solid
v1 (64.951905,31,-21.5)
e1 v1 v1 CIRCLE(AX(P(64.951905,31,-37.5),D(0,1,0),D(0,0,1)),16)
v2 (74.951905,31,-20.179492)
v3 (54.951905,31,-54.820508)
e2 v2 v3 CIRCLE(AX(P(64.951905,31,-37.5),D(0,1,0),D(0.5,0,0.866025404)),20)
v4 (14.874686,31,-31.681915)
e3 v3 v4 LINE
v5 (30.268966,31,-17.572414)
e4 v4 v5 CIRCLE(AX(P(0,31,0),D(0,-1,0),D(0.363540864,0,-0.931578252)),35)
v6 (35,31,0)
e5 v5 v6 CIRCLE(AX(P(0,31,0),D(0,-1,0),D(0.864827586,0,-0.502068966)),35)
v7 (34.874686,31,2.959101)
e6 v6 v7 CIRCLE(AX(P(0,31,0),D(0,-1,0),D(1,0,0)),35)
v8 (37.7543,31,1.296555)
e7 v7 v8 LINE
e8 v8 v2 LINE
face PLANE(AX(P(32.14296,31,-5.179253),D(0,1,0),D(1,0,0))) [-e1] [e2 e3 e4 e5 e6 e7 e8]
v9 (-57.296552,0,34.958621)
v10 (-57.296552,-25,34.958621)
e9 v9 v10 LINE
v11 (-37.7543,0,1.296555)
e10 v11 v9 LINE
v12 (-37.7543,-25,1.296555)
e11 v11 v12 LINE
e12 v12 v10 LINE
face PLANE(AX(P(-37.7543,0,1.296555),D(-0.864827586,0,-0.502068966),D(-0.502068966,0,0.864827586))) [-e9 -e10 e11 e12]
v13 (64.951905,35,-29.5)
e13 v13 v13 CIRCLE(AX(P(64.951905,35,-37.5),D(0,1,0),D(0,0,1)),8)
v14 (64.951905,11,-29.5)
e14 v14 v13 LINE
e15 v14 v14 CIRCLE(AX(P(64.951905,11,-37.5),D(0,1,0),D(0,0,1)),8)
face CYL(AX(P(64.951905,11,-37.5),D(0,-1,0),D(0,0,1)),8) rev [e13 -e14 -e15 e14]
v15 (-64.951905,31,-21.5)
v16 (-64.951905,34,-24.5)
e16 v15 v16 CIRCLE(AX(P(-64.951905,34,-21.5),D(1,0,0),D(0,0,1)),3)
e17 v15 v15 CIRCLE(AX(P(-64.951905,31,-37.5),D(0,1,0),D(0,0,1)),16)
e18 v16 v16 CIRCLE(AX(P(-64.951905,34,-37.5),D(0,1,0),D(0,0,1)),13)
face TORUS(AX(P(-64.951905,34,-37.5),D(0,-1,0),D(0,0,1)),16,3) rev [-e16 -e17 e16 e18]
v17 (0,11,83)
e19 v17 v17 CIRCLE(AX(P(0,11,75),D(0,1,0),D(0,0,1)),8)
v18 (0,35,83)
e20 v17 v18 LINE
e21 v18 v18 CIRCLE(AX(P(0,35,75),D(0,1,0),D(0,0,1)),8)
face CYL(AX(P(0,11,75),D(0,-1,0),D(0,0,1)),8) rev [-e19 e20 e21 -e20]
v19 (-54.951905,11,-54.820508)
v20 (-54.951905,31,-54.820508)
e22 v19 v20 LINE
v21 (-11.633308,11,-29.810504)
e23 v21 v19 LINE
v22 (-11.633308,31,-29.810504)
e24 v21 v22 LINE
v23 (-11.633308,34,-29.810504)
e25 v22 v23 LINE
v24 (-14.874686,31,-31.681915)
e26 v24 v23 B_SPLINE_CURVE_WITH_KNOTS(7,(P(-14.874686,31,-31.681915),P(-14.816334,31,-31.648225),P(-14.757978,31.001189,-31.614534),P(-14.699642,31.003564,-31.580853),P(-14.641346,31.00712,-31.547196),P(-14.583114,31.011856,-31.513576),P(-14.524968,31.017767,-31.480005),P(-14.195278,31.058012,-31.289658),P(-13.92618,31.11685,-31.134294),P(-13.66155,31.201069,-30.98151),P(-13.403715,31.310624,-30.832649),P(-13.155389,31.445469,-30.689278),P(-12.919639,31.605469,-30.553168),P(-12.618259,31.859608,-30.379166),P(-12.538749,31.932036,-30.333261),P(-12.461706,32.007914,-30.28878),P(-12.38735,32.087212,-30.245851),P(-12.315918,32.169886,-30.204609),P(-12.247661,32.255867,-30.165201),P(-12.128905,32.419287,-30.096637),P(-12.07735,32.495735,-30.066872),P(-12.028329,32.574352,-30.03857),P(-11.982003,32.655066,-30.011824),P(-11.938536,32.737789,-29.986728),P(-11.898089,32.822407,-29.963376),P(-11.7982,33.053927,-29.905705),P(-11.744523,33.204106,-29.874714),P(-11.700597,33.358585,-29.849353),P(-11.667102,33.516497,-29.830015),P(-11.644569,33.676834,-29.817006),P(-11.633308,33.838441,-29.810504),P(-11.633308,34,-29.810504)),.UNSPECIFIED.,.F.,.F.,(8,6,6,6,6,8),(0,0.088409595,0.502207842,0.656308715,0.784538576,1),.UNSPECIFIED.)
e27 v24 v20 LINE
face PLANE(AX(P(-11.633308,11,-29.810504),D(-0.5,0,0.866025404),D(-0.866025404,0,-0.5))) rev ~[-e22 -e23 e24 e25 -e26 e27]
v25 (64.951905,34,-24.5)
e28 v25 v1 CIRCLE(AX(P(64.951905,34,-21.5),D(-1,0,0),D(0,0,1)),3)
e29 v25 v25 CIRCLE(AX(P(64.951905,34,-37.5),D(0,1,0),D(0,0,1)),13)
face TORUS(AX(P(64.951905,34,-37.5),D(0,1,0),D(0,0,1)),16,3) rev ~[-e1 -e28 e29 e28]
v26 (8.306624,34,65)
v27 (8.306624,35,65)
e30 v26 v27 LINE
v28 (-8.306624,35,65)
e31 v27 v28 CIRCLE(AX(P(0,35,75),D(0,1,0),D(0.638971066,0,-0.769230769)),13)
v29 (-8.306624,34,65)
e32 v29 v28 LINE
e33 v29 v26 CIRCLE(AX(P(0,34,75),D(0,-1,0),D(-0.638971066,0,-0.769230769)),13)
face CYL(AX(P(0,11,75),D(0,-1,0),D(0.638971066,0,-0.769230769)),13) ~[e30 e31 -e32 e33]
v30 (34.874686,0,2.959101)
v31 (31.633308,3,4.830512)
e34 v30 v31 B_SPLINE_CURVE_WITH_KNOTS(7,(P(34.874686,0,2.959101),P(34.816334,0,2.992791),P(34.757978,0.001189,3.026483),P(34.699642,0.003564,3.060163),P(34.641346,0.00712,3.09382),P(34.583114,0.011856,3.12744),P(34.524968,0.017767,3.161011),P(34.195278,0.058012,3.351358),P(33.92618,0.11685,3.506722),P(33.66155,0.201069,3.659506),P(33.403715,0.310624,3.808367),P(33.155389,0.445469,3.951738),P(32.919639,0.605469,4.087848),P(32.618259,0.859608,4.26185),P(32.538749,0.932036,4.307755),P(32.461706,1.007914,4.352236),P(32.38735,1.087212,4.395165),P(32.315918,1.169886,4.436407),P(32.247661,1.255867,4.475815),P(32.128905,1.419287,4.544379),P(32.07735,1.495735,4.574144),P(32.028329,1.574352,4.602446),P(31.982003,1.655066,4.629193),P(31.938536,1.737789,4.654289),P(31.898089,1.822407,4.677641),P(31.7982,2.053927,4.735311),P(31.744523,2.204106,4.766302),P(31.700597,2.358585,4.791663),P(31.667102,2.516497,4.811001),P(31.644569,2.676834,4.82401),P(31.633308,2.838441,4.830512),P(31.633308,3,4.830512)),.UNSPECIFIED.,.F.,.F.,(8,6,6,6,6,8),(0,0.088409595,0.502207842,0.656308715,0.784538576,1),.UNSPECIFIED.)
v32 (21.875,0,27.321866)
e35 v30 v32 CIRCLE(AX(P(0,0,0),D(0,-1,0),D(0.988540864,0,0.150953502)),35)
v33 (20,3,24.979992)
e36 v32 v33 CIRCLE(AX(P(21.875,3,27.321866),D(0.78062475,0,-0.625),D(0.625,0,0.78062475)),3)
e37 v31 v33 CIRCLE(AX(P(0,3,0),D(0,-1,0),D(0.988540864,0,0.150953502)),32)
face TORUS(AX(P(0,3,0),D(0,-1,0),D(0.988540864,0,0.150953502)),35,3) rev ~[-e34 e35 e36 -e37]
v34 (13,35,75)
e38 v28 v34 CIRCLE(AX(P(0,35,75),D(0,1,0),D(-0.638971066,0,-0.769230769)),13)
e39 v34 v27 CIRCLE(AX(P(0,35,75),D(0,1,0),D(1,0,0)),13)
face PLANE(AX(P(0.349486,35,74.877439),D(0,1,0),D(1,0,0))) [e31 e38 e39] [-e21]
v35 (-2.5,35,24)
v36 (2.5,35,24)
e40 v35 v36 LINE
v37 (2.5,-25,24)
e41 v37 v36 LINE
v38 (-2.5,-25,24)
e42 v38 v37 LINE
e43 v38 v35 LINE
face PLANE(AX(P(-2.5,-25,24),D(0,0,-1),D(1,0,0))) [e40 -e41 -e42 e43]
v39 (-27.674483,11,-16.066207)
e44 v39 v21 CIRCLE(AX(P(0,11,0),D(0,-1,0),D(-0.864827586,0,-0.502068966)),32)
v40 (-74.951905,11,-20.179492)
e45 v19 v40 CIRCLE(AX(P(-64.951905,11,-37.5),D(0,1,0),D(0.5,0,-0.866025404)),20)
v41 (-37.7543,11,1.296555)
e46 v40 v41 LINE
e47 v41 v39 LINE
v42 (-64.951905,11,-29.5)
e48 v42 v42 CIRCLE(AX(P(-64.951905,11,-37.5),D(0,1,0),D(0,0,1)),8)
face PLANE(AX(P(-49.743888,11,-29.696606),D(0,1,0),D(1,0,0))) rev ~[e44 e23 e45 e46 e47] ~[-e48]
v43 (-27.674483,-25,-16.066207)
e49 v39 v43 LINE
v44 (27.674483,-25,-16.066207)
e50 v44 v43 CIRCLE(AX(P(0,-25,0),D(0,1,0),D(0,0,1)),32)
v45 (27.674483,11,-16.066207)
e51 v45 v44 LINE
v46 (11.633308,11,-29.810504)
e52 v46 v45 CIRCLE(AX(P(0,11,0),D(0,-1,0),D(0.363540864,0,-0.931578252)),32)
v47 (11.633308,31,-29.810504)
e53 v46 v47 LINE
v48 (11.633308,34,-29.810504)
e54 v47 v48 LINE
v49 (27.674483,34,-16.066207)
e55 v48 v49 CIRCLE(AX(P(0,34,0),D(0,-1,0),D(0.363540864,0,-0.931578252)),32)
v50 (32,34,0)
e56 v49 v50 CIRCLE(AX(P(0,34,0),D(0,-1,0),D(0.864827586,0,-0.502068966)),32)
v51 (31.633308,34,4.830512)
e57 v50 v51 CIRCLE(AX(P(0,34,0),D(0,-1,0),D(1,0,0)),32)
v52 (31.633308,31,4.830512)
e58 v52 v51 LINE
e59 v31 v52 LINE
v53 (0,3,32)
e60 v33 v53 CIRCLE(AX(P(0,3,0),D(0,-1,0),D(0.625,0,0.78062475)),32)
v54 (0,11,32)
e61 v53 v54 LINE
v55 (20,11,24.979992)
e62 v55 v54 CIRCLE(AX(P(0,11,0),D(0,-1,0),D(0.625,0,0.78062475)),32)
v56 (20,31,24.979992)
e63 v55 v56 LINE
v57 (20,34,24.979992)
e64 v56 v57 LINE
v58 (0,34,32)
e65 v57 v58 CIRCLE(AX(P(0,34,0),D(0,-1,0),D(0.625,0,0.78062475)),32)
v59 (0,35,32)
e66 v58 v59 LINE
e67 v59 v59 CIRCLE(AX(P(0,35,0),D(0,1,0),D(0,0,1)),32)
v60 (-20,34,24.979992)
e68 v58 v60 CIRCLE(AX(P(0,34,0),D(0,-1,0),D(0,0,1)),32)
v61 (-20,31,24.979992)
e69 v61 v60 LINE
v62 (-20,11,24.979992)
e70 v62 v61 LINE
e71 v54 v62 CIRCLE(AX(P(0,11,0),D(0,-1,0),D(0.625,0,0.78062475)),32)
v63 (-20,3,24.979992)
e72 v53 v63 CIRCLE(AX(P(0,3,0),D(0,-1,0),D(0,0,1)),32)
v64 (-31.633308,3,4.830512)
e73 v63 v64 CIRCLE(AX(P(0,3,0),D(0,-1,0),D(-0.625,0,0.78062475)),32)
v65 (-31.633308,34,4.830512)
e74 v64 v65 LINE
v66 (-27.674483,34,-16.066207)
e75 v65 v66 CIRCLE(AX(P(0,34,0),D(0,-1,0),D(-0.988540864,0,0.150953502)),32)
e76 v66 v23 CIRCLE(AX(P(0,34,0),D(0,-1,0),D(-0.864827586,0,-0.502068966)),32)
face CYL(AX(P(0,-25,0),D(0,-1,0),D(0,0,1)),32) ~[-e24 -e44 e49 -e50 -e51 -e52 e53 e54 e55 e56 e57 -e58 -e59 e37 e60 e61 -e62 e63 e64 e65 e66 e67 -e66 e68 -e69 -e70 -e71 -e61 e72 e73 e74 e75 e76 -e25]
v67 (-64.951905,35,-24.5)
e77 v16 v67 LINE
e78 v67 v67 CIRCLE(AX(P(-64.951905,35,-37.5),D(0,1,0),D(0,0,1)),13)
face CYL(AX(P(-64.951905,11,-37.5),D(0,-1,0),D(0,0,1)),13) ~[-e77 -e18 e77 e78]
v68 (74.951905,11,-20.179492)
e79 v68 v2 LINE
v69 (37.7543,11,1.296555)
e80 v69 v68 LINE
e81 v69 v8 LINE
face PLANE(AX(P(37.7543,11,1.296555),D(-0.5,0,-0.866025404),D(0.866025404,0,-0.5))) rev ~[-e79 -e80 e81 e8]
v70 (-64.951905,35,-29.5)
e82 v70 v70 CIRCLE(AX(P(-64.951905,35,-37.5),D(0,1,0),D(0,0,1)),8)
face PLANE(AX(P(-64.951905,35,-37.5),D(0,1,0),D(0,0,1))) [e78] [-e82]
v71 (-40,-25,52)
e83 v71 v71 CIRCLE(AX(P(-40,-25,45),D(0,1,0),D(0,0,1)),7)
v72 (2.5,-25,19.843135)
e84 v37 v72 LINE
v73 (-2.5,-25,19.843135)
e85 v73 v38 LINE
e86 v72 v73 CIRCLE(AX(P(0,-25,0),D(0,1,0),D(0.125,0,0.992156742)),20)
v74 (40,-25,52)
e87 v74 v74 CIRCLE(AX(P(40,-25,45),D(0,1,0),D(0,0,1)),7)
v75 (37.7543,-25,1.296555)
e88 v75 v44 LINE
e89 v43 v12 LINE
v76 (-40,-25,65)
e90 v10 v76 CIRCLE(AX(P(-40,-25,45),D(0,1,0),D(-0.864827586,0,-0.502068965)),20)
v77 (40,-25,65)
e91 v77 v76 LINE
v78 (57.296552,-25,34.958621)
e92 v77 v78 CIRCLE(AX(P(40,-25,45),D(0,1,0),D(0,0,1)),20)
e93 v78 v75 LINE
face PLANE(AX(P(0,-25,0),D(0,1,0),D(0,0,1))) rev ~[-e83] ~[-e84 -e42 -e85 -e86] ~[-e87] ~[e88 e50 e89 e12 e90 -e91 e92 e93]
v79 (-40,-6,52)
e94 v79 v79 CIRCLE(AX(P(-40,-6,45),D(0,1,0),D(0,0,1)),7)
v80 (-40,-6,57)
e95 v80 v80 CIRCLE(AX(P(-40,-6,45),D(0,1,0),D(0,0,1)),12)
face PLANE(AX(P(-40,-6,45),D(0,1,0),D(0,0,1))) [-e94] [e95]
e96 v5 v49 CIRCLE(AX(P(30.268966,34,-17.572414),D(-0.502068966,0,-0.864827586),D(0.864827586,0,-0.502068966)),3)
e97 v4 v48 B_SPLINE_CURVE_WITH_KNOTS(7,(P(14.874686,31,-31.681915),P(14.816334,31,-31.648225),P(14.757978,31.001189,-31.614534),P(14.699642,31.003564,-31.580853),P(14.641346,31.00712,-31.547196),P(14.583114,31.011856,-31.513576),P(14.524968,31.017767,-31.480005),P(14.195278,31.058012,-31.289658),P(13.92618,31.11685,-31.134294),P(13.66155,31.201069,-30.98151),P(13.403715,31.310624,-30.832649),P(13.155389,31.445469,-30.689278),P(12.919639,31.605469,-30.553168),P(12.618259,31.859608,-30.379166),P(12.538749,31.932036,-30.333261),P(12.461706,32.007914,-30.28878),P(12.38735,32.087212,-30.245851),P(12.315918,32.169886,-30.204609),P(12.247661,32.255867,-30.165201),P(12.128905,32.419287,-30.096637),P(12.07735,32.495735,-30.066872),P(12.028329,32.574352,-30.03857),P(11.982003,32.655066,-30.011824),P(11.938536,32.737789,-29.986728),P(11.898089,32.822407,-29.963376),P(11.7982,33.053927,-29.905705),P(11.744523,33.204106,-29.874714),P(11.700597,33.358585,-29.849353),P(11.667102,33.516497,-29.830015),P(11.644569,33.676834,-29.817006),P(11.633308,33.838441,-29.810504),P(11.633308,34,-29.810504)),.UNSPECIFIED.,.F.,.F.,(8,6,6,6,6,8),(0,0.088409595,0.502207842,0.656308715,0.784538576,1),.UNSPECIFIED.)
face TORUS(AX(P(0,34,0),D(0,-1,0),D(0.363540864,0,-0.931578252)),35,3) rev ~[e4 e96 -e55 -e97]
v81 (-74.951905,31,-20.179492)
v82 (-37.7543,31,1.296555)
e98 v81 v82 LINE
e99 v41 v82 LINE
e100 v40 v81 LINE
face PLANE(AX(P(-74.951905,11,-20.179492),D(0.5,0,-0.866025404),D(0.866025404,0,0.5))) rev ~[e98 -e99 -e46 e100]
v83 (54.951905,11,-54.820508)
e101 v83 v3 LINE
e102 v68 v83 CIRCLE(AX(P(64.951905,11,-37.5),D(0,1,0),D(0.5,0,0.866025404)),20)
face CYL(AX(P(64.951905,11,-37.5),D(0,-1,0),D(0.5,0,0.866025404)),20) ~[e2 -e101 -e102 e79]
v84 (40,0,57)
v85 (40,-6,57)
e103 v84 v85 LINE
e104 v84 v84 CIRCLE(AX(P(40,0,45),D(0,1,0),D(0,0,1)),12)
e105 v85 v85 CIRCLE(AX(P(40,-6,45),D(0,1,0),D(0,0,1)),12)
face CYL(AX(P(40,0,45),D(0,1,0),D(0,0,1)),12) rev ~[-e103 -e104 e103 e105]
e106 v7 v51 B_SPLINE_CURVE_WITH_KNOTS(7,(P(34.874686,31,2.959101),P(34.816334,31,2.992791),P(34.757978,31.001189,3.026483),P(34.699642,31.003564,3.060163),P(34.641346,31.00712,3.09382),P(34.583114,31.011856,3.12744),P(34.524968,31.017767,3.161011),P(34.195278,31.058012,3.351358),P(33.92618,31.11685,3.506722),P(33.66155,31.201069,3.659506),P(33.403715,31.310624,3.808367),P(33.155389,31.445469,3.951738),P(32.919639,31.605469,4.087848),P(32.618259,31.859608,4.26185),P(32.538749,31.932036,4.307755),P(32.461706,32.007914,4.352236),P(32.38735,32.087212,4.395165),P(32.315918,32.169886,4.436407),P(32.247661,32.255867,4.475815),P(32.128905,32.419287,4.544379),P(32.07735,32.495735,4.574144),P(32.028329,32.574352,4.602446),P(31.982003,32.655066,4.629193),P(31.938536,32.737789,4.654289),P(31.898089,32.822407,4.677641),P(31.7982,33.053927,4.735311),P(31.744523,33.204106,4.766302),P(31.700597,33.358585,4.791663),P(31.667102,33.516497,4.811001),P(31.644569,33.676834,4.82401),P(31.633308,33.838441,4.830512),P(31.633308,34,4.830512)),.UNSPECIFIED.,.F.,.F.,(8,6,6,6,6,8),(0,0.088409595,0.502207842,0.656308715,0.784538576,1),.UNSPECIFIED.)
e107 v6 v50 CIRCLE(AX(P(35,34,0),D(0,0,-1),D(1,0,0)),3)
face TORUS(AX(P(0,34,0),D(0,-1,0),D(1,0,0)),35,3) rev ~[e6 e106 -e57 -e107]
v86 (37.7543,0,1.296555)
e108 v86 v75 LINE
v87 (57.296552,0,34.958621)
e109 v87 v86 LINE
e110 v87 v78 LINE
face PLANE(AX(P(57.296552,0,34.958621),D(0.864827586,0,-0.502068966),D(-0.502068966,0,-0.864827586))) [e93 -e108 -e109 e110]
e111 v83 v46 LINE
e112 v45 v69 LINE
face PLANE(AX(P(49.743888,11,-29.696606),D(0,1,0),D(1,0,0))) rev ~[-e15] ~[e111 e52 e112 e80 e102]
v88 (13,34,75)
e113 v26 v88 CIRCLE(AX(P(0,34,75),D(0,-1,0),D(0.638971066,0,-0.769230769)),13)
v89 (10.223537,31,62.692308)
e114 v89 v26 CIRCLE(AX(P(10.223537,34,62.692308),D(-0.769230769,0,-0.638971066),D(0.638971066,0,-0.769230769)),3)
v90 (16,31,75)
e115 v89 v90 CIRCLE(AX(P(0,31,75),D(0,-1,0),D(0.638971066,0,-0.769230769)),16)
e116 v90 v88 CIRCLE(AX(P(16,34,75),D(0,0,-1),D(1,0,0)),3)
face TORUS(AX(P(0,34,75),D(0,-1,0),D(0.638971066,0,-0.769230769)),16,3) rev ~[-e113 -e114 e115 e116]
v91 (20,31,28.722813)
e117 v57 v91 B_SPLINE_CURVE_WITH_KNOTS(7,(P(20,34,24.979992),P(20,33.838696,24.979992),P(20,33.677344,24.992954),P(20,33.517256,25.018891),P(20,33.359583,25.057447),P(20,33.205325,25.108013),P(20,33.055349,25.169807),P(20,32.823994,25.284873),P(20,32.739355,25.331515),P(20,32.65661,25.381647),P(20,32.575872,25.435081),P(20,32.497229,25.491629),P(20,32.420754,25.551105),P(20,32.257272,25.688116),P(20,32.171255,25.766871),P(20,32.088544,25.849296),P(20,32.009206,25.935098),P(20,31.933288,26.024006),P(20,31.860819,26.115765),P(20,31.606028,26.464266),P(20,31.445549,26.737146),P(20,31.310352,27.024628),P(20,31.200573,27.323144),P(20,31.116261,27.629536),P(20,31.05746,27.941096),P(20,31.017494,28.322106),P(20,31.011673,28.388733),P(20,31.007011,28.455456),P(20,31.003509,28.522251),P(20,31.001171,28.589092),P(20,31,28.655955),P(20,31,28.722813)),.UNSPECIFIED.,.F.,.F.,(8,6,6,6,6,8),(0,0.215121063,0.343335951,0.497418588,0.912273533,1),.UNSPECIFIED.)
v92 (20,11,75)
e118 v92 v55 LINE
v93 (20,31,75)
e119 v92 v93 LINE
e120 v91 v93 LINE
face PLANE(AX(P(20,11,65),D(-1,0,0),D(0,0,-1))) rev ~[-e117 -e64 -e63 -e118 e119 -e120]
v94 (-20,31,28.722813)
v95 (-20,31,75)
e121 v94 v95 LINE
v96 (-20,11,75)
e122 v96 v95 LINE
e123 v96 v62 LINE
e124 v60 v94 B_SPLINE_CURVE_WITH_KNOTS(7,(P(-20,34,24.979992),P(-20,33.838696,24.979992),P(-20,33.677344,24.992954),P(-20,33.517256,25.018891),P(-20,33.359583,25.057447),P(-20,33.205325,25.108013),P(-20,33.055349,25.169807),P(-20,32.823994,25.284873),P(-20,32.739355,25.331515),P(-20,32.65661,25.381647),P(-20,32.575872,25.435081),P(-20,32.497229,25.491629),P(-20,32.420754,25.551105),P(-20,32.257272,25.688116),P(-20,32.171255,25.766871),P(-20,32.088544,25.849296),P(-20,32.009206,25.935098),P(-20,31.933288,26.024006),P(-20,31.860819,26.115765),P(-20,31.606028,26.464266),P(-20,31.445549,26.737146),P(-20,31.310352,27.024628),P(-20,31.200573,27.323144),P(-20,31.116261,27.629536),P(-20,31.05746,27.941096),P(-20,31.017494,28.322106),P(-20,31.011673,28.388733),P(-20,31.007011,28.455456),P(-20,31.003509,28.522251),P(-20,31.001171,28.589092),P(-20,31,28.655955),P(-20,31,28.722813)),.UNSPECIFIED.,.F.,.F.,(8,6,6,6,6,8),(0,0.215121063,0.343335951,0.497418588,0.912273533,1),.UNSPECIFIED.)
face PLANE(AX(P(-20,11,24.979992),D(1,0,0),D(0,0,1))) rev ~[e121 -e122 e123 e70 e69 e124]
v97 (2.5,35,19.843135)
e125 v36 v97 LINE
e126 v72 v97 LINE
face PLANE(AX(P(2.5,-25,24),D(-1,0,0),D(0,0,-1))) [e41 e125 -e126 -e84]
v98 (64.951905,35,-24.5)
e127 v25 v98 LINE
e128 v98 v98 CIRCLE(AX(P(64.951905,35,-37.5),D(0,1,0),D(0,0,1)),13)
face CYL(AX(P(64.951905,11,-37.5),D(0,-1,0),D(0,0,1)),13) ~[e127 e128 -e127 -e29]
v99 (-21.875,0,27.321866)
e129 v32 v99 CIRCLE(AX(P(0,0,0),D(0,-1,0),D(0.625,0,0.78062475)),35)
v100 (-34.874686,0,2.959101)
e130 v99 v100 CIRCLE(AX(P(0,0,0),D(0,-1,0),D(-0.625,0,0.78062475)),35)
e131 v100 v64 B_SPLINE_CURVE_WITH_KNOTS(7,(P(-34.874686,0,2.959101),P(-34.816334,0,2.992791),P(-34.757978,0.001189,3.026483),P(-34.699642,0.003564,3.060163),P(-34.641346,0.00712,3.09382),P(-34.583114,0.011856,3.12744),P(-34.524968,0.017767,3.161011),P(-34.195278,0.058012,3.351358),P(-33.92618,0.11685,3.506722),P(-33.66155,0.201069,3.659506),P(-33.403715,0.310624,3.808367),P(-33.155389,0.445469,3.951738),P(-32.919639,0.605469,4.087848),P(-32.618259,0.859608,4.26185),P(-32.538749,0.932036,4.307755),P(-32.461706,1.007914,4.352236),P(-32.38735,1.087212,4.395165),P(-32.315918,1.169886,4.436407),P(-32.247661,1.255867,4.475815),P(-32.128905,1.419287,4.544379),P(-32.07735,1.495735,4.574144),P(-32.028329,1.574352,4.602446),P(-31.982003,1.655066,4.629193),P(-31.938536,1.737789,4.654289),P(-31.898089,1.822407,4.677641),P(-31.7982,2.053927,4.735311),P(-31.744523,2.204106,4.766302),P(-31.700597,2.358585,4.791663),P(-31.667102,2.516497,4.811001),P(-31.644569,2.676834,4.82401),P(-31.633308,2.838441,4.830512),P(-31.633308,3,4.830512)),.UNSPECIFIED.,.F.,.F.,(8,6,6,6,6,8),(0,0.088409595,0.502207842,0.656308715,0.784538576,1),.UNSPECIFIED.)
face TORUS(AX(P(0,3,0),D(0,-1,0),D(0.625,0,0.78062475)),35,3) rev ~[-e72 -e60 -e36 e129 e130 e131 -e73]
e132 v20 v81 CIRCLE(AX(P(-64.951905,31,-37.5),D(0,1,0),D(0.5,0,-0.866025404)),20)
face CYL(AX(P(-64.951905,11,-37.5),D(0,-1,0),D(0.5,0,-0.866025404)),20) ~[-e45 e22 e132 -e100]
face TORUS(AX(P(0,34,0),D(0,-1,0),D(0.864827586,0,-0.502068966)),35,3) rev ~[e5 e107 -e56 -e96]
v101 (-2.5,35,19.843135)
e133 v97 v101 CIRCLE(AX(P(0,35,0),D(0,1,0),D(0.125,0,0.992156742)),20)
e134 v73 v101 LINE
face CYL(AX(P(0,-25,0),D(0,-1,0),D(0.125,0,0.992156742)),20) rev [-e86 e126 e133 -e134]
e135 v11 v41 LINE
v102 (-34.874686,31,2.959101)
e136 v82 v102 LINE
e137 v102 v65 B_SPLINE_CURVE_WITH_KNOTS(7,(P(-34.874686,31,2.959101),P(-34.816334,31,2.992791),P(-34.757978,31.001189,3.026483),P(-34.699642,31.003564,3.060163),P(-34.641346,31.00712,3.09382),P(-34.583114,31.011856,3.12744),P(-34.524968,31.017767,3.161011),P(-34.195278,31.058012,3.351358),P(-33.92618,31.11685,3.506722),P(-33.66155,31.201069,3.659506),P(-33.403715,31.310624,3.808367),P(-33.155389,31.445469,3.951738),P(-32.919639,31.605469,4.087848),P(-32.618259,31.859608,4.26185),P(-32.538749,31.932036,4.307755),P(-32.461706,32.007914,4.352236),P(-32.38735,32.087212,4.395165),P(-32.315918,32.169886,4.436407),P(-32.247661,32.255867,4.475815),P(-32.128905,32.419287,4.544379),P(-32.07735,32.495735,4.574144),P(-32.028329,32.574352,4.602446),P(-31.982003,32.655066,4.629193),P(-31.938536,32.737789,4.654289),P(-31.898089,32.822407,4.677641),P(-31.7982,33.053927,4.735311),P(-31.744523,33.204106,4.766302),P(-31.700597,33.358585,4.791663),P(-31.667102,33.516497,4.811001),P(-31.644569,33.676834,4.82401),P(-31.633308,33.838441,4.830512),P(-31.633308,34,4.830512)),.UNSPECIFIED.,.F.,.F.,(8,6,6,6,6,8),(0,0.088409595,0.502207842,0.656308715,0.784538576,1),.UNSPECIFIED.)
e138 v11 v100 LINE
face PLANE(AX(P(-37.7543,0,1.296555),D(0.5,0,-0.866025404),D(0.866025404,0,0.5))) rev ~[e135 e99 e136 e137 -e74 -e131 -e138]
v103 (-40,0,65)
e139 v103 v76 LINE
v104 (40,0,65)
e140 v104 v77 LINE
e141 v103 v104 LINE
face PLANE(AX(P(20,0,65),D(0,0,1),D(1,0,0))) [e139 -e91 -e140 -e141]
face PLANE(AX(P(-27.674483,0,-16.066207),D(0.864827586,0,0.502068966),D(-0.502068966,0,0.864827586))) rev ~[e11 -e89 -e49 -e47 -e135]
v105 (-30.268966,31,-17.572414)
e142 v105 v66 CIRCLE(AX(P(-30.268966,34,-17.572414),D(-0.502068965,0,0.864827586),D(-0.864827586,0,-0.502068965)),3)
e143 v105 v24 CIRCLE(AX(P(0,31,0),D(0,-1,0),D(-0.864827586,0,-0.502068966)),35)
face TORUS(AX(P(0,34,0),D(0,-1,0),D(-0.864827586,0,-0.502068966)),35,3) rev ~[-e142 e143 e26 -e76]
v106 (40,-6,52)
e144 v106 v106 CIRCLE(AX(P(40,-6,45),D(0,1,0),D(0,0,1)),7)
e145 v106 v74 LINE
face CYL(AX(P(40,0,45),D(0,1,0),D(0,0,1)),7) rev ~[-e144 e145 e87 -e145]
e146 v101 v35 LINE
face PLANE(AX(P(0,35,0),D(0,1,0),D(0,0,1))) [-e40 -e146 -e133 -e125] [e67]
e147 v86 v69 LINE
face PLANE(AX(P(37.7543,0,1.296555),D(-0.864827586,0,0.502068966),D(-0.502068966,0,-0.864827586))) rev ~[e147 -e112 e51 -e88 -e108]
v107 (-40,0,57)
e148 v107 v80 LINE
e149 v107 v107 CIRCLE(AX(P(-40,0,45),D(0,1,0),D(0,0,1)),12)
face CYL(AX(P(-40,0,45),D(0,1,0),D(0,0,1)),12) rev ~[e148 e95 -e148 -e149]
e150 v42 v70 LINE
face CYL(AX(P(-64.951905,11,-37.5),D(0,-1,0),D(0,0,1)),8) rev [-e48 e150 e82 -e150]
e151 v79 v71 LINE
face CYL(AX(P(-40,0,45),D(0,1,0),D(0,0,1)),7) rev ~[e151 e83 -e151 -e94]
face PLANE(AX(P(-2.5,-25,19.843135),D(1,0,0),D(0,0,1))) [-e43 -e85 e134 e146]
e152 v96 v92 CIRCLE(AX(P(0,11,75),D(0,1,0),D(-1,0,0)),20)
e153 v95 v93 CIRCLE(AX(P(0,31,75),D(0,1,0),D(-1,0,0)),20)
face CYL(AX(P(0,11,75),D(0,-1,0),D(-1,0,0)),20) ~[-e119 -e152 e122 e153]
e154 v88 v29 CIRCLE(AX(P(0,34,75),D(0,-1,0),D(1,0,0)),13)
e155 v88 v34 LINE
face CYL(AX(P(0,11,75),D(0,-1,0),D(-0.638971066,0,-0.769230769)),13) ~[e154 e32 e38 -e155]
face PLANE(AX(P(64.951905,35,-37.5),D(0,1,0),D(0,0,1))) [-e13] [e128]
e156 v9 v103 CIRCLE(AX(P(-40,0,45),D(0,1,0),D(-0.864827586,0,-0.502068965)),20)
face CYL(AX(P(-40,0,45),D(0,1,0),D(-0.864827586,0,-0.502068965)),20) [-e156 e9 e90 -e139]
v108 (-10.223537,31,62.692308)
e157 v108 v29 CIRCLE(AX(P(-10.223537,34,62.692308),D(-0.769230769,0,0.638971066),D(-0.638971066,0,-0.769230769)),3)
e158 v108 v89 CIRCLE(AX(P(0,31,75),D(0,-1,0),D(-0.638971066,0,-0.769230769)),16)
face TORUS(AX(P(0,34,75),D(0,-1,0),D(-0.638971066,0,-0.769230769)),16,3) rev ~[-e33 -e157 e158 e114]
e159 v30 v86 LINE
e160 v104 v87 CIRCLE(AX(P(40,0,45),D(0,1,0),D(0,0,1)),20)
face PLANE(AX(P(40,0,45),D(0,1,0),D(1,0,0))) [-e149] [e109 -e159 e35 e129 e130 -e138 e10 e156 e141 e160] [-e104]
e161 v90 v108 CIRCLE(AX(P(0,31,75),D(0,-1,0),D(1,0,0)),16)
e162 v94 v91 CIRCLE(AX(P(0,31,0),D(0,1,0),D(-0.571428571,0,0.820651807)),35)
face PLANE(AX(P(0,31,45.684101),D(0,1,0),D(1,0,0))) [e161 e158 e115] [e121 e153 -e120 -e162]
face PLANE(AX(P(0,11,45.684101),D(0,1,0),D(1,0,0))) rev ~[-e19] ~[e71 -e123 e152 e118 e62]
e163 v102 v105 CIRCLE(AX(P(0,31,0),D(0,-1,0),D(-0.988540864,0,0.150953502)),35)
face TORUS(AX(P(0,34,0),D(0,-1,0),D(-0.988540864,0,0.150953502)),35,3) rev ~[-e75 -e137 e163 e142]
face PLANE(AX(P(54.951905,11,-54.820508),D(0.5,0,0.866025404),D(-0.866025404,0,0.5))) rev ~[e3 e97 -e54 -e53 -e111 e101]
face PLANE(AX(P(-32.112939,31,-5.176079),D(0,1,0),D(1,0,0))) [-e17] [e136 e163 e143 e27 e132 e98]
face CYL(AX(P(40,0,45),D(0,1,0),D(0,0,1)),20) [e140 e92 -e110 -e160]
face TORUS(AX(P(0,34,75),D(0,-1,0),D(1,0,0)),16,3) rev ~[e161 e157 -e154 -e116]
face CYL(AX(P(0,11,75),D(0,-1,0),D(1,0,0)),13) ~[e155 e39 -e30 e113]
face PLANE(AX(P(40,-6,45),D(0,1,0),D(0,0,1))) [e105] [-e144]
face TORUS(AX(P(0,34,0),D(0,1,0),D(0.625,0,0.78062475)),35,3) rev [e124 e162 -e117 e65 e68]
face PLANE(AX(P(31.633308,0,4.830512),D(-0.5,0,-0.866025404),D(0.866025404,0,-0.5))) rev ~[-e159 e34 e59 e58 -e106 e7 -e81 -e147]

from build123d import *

# Parameters (mm, degrees)
SKETCH1_R                = 12
SKETCH1_R_2              = 7
BOSS_EXTRUDE4_DEPTH      = 25
BOSS_EXTRUDE5_START      = 11
SKETCH1_8_R              = 13
BOSS_EXTRUDE5_DEPTH      = 20
BOSS_EXTRUDE6_START      = 11
SKETCH1_9_R              = 8
SKETCH1_9_R_2            = 13
BOSS_EXTRUDE6_DEPTH      = 24
BOSS_EXTRUDE7_DEPTH      = 35
BOSS_EXTRUDE7_DEPTH_BACK = 25
SKETCH1_10_R             = 32
SKETCH2_R                = 12
CUT_EXTRUDE1_DEPTH       = 6
BOSS_EXTRUDE8_DEPTH      = 31
FILLET2_R                = 3


with BuildPart() as part:
    # Sketch1 → Boss-Extrude4 (new body)
    # profile 1 of 8: a face of its own
    with BuildSketch(Plane(origin=(0, 0, 0), x_dir=(1, 0, 0), z_dir=(0, 1, 0))):
        with BuildLine():
            Line((-20, -65), (-20, -24.979991994))
            ThreePointArc((-20, -24.979991994), (-27.712812921, -16), (-31.633307653, -4.830512079))
            Line((-31.633307653, -4.830512079), (-37.754300122, -1.296555429))
            Line((-37.754300122, -1.296555429), (-57.296551724, -34.95862069))
            ThreePointArc((-57.296551724, -34.95862069), (-57.332449137, -54.979288897), (-40, -65))
            Line((-40, -65), (-20, -65))
        make_face()
        with Locations((-40, -45)):
            Circle(SKETCH1_R, mode=Mode.SUBTRACT)
    # profile 2 of 8: a face of its own
    with BuildSketch(Plane(origin=(0, 0, 0), x_dir=(1, 0, 0), z_dir=(0, 1, 0))):
        with BuildLine():
            Line((37.754300122, -1.296555429), (31.633307653, -4.830512079))
            ThreePointArc((31.633307653, -4.830512079), (27.712812921, -16), (20, -24.979991994))
            Line((20, -24.979991994), (20, -65))
            Line((20, -65), (40, -65))
            ThreePointArc((40, -65), (57.332449137, -54.979288897), (57.296551724, -34.95862069))
            Line((57.296551724, -34.95862069), (37.754300122, -1.296555429))
        make_face()
        with Locations((40, -45)):
            Circle(SKETCH1_R, mode=Mode.SUBTRACT)
    # profile 3 of 8: a face of its own
    with BuildSketch(Plane(origin=(0, 0, 0), x_dir=(1, 0, 0), z_dir=(0, 1, 0))):
        with BuildLine():
            Line((20, -65), (20, -24.979991994))
            ThreePointArc((20, -24.979991994), (0, -32), (-20, -24.979991994))
            Line((-20, -24.979991994), (-20, -65))
            Line((-20, -65), (-8.306623863, -65))
            ThreePointArc((-8.306623863, -65), (0, -62), (8.306623863, -65))
            Line((8.306623863, -65), (20, -65))
        make_face()
    # profile 4 of 8: a face of its own
    with BuildSketch(Plane(origin=(0, 0, 0), x_dir=(1, 0, 0), z_dir=(0, 1, 0))):
        with BuildLine():
            Line((-8.306623863, -65), (8.306623863, -65))
            ThreePointArc((8.306623863, -65), (0, -62), (-8.306623863, -65))
        make_face()
    # profile 5 of 8: a face of its own
    with BuildSketch(Plane(origin=(0, 0, 0), x_dir=(1, 0, 0), z_dir=(0, 1, 0))):
        with BuildLine():
            Line((-37.754300122, -1.296555429), (-31.633307653, -4.830512079))
            ThreePointArc((-31.633307653, -4.830512079), (-31.440765208, 5.956364927), (-27.674482759, 16.066206897))
            Line((-27.674482759, 16.066206897), (-37.754300122, -1.296555429))
        make_face()
    # profile 6 of 8: a face of its own
    with BuildSketch(Plane(origin=(0, 0, 0), x_dir=(1, 0, 0), z_dir=(0, 1, 0))):
        with BuildLine():
            ThreePointArc((32, 0), (31.908195224, -2.422205102), (31.633307653, -4.830512079))
            Line((31.633307653, -4.830512079), (37.754300122, -1.296555429))
            Line((37.754300122, -1.296555429), (27.674482759, 16.066206897))
            ThreePointArc((27.674482759, 16.066206897), (30.899704273, 8.31915115), (32, 0))
        make_face()
    # profile 7 of 8: a face of its own
    with BuildSketch(Plane(origin=(0, 0, 0), x_dir=(1, 0, 0), z_dir=(0, 1, 0))):
        with Locations((-40, -45)):
            Circle(SKETCH1_R)
        with Locations(Location((-40, -45, 0), (0, 0, 270))):
            Circle(SKETCH1_R_2, mode=Mode.SUBTRACT)
    # profile 8 of 8: a face of its own
    with BuildSketch(Plane(origin=(0, 0, 0), x_dir=(1, 0, 0), z_dir=(0, 1, 0))):
        with Locations((40, -45)):
            Circle(SKETCH1_R)
        with Locations(Location((40, -45, 0), (0, 0, 270))):
            Circle(SKETCH1_R_2, mode=Mode.SUBTRACT)
    extrude(amount=-BOSS_EXTRUDE4_DEPTH)



with BuildPart() as body_2:
    # Sketch1<8> → Boss-Extrude5 (new body)
    # profile 1 of 4: a face of its own
    with BuildSketch(Plane(origin=(0, 0, 0), x_dir=(1, 0, 0), z_dir=(0, 1, 0)).offset(BOSS_EXTRUDE5_START)):
        with BuildLine():
            Line((20, -65), (20, -24.979991994))
            ThreePointArc((20, -24.979991994), (0, -32), (-20, -24.979991994))
            Line((-20, -24.979991994), (-20, -65))
            Line((-20, -65), (-8.306623863, -65))
            ThreePointArc((-8.306623863, -65), (0, -62), (8.306623863, -65))
            Line((8.306623863, -65), (20, -65))
        make_face()
    # profile 2 of 4: a face of its own
    with BuildSketch(Plane(origin=(0, 0, 0), x_dir=(1, 0, 0), z_dir=(0, 1, 0)).offset(BOSS_EXTRUDE5_START)):
        with BuildLine():
            Line((20, -75), (20, -65))
            Line((20, -65), (8.306623863, -65))
            ThreePointArc((8.306623863, -65), (11.768307232, -69.476690766), (13, -75))
            ThreePointArc((13, -75), (-5.523309234, -86.768307232), (-8.306623863, -65))
            Line((-8.306623863, -65), (-20, -65))
            Line((-20, -65), (-20, -75))
            ThreePointArc((-20, -75), (0, -95), (20, -75))
        make_face()
    # profile 3 of 4: a face of its own
    with BuildSketch(Plane(origin=(0, 0, 0), x_dir=(1, 0, 0), z_dir=(0, 1, 0)).offset(BOSS_EXTRUDE5_START)):
        with BuildLine():
            Line((27.674482759, 16.066206897), (37.754300122, -1.296555429))
            Line((37.754300122, -1.296555429), (74.951905284, 20.179491924))
            ThreePointArc((74.951905284, 20.179491924), (82.27241336, 47.5), (54.951905284, 54.820508076))
            Line((54.951905284, 54.820508076), (11.633307653, 29.810504072))
            ThreePointArc((11.633307653, 29.810504072), (20.820711394, 24.300164136), (27.674482759, 16.066206897))
        make_face()
        with Locations(Location((64.951905284, 37.5, 0), (0, 0, 270))):
            Circle(SKETCH1_8_R, mode=Mode.SUBTRACT)
    # profile 4 of 4: a face of its own
    with BuildSketch(Plane(origin=(0, 0, 0), x_dir=(1, 0, 0), z_dir=(0, 1, 0)).offset(BOSS_EXTRUDE5_START)):
        with BuildLine():
            ThreePointArc((-27.674482759, 16.066206897), (-20.820711394, 24.300164136), (-11.633307653, 29.810504072))
            Line((-11.633307653, 29.810504072), (-54.951905284, 54.820508076))
            ThreePointArc((-54.951905284, 54.820508076), (-82.27241336, 47.5), (-74.951905284, 20.179491924))
            Line((-74.951905284, 20.179491924), (-37.754300122, -1.296555429))
            Line((-37.754300122, -1.296555429), (-27.674482759, 16.066206897))
        make_face()
        with Locations(Location((-64.951905284, 37.5, 0), (0, 0, 270))):
            Circle(SKETCH1_8_R, mode=Mode.SUBTRACT)
    extrude(amount=BOSS_EXTRUDE5_DEPTH)

    # Sketch1<9> → Boss-Extrude6 (add)
    # profile 1 of 4: a face of its own
    with BuildSketch(Plane(origin=(0, 0, 0), x_dir=(1, 0, 0), z_dir=(0, 1, 0)).offset(BOSS_EXTRUDE6_START)):
        with BuildLine():
            ThreePointArc((13, -75), (11.768307232, -69.476690766), (8.306623863, -65))
            Line((8.306623863, -65), (-8.306623863, -65))
            ThreePointArc((-8.306623863, -65), (-5.523309234, -86.768307232), (13, -75))
        make_face()
        with Locations(Location((0, -75, 0), (0, 0, 270))):
            Circle(SKETCH1_9_R, mode=Mode.SUBTRACT)
    # profile 2 of 4: a face of its own
    with BuildSketch(Plane(origin=(0, 0, 0), x_dir=(1, 0, 0), z_dir=(0, 1, 0)).offset(BOSS_EXTRUDE6_START)):
        with Locations(Location((64.951905284, 37.5, 0), (0, 0, 270))):
            Circle(SKETCH1_9_R_2)
        with Locations(Location((64.951905284, 37.5, 0), (0, 0, 270))):
            Circle(SKETCH1_9_R, mode=Mode.SUBTRACT)
    # profile 3 of 4: a face of its own
    with BuildSketch(Plane(origin=(0, 0, 0), x_dir=(1, 0, 0), z_dir=(0, 1, 0)).offset(BOSS_EXTRUDE6_START)):
        with Locations(Location((-64.951905284, 37.5, 0), (0, 0, 270))):
            Circle(SKETCH1_9_R_2)
        with Locations(Location((-64.951905284, 37.5, 0), (0, 0, 270))):
            Circle(SKETCH1_9_R, mode=Mode.SUBTRACT)
    # profile 4 of 4: a face of its own
    with BuildSketch(Plane(origin=(0, 0, 0), x_dir=(1, 0, 0), z_dir=(0, 1, 0)).offset(BOSS_EXTRUDE6_START)):
        with BuildLine():
            Line((-8.306623863, -65), (8.306623863, -65))
            ThreePointArc((8.306623863, -65), (0, -62), (-8.306623863, -65))
        make_face()
    extrude(amount=BOSS_EXTRUDE6_DEPTH)


with BuildPart() as part_1:
    add(part.part)

    add(body_2.part)  # Boss-Extrude7 merges body 2
    # Sketch1<10> → Boss-Extrude7 (add, two sides: drawn at the far end of the back side and taken through both)
    with BuildSketch(Plane(origin=(0, 0, 0), x_dir=(1, 0, 0), z_dir=(0, 1, 0)).offset(-BOSS_EXTRUDE7_DEPTH_BACK)):
        with Locations(Location((0, 0, 0), (0, 0, 270))):
            Circle(SKETCH1_10_R)
        with BuildLine():
            ThreePointArc((2.5, -19.843134833), (0, 20), (-2.5, -19.843134833))
            Line((-2.5, -19.843134833), (-2.5, -24))
            Line((-2.5, -24), (2.5, -24))
            Line((2.5, -24), (2.5, -19.843134833))
        make_face(mode=Mode.SUBTRACT)
    extrude(amount=BOSS_EXTRUDE7_DEPTH + BOSS_EXTRUDE7_DEPTH_BACK)

    # Sketch2 → Cut-Extrude1 (cut)
    with BuildSketch(Plane(origin=(0, 0, 0), x_dir=(1, 0, 0), z_dir=(0, 1, 0))):
        with Locations(Location((40, -45, 0), (0, 0, 270))):
            Circle(SKETCH2_R)
        with Locations(Location((-40, -45, 0), (0, 0, 270))):
            Circle(SKETCH2_R)
    extrude(amount=-CUT_EXTRUDE1_DEPTH, mode=Mode.SUBTRACT)

    # Sketch1<11> → Boss-Extrude8 (add)
    with BuildSketch(Plane(origin=(0, 0, 0), x_dir=(1, 0, 0), z_dir=(0, 1, 0))):
        with BuildLine():
            Line((-37.754300122, -1.296555429), (-31.633307653, -4.830512079))
            ThreePointArc((-31.633307653, -4.830512079), (-31.440765208, 5.956364927), (-27.674482759, 16.066206897))
            Line((-27.674482759, 16.066206897), (-37.754300122, -1.296555429))
        make_face()
        with BuildLine():
            ThreePointArc((32, 0), (31.908195224, -2.422205102), (31.633307653, -4.830512079))
            Line((31.633307653, -4.830512079), (37.754300122, -1.296555429))
            Line((37.754300122, -1.296555429), (27.674482759, 16.066206897))
            ThreePointArc((27.674482759, 16.066206897), (30.899704273, 8.31915115), (32, 0))
        make_face()
    extrude(amount=BOSS_EXTRUDE8_DEPTH)

    # Fillet2
    fillet2_edges = [part_1.edges().sort_by_distance(p)[0] for p in [
        (-20.849743565, 0, 24.275258871),
        (10.598119083, 31, 30.194037026),
        (-13, 31, 75),
        (31.440765208, 31, -5.956364927),
        (64.951905284, 31, -50.5),
        (-31.440765208, 31, -5.956364927),
        (-64.951905284, 31, -50.5),
    ]]
    fillet(fillet2_edges, radius=FILLET2_R)


solid = part_1.part
